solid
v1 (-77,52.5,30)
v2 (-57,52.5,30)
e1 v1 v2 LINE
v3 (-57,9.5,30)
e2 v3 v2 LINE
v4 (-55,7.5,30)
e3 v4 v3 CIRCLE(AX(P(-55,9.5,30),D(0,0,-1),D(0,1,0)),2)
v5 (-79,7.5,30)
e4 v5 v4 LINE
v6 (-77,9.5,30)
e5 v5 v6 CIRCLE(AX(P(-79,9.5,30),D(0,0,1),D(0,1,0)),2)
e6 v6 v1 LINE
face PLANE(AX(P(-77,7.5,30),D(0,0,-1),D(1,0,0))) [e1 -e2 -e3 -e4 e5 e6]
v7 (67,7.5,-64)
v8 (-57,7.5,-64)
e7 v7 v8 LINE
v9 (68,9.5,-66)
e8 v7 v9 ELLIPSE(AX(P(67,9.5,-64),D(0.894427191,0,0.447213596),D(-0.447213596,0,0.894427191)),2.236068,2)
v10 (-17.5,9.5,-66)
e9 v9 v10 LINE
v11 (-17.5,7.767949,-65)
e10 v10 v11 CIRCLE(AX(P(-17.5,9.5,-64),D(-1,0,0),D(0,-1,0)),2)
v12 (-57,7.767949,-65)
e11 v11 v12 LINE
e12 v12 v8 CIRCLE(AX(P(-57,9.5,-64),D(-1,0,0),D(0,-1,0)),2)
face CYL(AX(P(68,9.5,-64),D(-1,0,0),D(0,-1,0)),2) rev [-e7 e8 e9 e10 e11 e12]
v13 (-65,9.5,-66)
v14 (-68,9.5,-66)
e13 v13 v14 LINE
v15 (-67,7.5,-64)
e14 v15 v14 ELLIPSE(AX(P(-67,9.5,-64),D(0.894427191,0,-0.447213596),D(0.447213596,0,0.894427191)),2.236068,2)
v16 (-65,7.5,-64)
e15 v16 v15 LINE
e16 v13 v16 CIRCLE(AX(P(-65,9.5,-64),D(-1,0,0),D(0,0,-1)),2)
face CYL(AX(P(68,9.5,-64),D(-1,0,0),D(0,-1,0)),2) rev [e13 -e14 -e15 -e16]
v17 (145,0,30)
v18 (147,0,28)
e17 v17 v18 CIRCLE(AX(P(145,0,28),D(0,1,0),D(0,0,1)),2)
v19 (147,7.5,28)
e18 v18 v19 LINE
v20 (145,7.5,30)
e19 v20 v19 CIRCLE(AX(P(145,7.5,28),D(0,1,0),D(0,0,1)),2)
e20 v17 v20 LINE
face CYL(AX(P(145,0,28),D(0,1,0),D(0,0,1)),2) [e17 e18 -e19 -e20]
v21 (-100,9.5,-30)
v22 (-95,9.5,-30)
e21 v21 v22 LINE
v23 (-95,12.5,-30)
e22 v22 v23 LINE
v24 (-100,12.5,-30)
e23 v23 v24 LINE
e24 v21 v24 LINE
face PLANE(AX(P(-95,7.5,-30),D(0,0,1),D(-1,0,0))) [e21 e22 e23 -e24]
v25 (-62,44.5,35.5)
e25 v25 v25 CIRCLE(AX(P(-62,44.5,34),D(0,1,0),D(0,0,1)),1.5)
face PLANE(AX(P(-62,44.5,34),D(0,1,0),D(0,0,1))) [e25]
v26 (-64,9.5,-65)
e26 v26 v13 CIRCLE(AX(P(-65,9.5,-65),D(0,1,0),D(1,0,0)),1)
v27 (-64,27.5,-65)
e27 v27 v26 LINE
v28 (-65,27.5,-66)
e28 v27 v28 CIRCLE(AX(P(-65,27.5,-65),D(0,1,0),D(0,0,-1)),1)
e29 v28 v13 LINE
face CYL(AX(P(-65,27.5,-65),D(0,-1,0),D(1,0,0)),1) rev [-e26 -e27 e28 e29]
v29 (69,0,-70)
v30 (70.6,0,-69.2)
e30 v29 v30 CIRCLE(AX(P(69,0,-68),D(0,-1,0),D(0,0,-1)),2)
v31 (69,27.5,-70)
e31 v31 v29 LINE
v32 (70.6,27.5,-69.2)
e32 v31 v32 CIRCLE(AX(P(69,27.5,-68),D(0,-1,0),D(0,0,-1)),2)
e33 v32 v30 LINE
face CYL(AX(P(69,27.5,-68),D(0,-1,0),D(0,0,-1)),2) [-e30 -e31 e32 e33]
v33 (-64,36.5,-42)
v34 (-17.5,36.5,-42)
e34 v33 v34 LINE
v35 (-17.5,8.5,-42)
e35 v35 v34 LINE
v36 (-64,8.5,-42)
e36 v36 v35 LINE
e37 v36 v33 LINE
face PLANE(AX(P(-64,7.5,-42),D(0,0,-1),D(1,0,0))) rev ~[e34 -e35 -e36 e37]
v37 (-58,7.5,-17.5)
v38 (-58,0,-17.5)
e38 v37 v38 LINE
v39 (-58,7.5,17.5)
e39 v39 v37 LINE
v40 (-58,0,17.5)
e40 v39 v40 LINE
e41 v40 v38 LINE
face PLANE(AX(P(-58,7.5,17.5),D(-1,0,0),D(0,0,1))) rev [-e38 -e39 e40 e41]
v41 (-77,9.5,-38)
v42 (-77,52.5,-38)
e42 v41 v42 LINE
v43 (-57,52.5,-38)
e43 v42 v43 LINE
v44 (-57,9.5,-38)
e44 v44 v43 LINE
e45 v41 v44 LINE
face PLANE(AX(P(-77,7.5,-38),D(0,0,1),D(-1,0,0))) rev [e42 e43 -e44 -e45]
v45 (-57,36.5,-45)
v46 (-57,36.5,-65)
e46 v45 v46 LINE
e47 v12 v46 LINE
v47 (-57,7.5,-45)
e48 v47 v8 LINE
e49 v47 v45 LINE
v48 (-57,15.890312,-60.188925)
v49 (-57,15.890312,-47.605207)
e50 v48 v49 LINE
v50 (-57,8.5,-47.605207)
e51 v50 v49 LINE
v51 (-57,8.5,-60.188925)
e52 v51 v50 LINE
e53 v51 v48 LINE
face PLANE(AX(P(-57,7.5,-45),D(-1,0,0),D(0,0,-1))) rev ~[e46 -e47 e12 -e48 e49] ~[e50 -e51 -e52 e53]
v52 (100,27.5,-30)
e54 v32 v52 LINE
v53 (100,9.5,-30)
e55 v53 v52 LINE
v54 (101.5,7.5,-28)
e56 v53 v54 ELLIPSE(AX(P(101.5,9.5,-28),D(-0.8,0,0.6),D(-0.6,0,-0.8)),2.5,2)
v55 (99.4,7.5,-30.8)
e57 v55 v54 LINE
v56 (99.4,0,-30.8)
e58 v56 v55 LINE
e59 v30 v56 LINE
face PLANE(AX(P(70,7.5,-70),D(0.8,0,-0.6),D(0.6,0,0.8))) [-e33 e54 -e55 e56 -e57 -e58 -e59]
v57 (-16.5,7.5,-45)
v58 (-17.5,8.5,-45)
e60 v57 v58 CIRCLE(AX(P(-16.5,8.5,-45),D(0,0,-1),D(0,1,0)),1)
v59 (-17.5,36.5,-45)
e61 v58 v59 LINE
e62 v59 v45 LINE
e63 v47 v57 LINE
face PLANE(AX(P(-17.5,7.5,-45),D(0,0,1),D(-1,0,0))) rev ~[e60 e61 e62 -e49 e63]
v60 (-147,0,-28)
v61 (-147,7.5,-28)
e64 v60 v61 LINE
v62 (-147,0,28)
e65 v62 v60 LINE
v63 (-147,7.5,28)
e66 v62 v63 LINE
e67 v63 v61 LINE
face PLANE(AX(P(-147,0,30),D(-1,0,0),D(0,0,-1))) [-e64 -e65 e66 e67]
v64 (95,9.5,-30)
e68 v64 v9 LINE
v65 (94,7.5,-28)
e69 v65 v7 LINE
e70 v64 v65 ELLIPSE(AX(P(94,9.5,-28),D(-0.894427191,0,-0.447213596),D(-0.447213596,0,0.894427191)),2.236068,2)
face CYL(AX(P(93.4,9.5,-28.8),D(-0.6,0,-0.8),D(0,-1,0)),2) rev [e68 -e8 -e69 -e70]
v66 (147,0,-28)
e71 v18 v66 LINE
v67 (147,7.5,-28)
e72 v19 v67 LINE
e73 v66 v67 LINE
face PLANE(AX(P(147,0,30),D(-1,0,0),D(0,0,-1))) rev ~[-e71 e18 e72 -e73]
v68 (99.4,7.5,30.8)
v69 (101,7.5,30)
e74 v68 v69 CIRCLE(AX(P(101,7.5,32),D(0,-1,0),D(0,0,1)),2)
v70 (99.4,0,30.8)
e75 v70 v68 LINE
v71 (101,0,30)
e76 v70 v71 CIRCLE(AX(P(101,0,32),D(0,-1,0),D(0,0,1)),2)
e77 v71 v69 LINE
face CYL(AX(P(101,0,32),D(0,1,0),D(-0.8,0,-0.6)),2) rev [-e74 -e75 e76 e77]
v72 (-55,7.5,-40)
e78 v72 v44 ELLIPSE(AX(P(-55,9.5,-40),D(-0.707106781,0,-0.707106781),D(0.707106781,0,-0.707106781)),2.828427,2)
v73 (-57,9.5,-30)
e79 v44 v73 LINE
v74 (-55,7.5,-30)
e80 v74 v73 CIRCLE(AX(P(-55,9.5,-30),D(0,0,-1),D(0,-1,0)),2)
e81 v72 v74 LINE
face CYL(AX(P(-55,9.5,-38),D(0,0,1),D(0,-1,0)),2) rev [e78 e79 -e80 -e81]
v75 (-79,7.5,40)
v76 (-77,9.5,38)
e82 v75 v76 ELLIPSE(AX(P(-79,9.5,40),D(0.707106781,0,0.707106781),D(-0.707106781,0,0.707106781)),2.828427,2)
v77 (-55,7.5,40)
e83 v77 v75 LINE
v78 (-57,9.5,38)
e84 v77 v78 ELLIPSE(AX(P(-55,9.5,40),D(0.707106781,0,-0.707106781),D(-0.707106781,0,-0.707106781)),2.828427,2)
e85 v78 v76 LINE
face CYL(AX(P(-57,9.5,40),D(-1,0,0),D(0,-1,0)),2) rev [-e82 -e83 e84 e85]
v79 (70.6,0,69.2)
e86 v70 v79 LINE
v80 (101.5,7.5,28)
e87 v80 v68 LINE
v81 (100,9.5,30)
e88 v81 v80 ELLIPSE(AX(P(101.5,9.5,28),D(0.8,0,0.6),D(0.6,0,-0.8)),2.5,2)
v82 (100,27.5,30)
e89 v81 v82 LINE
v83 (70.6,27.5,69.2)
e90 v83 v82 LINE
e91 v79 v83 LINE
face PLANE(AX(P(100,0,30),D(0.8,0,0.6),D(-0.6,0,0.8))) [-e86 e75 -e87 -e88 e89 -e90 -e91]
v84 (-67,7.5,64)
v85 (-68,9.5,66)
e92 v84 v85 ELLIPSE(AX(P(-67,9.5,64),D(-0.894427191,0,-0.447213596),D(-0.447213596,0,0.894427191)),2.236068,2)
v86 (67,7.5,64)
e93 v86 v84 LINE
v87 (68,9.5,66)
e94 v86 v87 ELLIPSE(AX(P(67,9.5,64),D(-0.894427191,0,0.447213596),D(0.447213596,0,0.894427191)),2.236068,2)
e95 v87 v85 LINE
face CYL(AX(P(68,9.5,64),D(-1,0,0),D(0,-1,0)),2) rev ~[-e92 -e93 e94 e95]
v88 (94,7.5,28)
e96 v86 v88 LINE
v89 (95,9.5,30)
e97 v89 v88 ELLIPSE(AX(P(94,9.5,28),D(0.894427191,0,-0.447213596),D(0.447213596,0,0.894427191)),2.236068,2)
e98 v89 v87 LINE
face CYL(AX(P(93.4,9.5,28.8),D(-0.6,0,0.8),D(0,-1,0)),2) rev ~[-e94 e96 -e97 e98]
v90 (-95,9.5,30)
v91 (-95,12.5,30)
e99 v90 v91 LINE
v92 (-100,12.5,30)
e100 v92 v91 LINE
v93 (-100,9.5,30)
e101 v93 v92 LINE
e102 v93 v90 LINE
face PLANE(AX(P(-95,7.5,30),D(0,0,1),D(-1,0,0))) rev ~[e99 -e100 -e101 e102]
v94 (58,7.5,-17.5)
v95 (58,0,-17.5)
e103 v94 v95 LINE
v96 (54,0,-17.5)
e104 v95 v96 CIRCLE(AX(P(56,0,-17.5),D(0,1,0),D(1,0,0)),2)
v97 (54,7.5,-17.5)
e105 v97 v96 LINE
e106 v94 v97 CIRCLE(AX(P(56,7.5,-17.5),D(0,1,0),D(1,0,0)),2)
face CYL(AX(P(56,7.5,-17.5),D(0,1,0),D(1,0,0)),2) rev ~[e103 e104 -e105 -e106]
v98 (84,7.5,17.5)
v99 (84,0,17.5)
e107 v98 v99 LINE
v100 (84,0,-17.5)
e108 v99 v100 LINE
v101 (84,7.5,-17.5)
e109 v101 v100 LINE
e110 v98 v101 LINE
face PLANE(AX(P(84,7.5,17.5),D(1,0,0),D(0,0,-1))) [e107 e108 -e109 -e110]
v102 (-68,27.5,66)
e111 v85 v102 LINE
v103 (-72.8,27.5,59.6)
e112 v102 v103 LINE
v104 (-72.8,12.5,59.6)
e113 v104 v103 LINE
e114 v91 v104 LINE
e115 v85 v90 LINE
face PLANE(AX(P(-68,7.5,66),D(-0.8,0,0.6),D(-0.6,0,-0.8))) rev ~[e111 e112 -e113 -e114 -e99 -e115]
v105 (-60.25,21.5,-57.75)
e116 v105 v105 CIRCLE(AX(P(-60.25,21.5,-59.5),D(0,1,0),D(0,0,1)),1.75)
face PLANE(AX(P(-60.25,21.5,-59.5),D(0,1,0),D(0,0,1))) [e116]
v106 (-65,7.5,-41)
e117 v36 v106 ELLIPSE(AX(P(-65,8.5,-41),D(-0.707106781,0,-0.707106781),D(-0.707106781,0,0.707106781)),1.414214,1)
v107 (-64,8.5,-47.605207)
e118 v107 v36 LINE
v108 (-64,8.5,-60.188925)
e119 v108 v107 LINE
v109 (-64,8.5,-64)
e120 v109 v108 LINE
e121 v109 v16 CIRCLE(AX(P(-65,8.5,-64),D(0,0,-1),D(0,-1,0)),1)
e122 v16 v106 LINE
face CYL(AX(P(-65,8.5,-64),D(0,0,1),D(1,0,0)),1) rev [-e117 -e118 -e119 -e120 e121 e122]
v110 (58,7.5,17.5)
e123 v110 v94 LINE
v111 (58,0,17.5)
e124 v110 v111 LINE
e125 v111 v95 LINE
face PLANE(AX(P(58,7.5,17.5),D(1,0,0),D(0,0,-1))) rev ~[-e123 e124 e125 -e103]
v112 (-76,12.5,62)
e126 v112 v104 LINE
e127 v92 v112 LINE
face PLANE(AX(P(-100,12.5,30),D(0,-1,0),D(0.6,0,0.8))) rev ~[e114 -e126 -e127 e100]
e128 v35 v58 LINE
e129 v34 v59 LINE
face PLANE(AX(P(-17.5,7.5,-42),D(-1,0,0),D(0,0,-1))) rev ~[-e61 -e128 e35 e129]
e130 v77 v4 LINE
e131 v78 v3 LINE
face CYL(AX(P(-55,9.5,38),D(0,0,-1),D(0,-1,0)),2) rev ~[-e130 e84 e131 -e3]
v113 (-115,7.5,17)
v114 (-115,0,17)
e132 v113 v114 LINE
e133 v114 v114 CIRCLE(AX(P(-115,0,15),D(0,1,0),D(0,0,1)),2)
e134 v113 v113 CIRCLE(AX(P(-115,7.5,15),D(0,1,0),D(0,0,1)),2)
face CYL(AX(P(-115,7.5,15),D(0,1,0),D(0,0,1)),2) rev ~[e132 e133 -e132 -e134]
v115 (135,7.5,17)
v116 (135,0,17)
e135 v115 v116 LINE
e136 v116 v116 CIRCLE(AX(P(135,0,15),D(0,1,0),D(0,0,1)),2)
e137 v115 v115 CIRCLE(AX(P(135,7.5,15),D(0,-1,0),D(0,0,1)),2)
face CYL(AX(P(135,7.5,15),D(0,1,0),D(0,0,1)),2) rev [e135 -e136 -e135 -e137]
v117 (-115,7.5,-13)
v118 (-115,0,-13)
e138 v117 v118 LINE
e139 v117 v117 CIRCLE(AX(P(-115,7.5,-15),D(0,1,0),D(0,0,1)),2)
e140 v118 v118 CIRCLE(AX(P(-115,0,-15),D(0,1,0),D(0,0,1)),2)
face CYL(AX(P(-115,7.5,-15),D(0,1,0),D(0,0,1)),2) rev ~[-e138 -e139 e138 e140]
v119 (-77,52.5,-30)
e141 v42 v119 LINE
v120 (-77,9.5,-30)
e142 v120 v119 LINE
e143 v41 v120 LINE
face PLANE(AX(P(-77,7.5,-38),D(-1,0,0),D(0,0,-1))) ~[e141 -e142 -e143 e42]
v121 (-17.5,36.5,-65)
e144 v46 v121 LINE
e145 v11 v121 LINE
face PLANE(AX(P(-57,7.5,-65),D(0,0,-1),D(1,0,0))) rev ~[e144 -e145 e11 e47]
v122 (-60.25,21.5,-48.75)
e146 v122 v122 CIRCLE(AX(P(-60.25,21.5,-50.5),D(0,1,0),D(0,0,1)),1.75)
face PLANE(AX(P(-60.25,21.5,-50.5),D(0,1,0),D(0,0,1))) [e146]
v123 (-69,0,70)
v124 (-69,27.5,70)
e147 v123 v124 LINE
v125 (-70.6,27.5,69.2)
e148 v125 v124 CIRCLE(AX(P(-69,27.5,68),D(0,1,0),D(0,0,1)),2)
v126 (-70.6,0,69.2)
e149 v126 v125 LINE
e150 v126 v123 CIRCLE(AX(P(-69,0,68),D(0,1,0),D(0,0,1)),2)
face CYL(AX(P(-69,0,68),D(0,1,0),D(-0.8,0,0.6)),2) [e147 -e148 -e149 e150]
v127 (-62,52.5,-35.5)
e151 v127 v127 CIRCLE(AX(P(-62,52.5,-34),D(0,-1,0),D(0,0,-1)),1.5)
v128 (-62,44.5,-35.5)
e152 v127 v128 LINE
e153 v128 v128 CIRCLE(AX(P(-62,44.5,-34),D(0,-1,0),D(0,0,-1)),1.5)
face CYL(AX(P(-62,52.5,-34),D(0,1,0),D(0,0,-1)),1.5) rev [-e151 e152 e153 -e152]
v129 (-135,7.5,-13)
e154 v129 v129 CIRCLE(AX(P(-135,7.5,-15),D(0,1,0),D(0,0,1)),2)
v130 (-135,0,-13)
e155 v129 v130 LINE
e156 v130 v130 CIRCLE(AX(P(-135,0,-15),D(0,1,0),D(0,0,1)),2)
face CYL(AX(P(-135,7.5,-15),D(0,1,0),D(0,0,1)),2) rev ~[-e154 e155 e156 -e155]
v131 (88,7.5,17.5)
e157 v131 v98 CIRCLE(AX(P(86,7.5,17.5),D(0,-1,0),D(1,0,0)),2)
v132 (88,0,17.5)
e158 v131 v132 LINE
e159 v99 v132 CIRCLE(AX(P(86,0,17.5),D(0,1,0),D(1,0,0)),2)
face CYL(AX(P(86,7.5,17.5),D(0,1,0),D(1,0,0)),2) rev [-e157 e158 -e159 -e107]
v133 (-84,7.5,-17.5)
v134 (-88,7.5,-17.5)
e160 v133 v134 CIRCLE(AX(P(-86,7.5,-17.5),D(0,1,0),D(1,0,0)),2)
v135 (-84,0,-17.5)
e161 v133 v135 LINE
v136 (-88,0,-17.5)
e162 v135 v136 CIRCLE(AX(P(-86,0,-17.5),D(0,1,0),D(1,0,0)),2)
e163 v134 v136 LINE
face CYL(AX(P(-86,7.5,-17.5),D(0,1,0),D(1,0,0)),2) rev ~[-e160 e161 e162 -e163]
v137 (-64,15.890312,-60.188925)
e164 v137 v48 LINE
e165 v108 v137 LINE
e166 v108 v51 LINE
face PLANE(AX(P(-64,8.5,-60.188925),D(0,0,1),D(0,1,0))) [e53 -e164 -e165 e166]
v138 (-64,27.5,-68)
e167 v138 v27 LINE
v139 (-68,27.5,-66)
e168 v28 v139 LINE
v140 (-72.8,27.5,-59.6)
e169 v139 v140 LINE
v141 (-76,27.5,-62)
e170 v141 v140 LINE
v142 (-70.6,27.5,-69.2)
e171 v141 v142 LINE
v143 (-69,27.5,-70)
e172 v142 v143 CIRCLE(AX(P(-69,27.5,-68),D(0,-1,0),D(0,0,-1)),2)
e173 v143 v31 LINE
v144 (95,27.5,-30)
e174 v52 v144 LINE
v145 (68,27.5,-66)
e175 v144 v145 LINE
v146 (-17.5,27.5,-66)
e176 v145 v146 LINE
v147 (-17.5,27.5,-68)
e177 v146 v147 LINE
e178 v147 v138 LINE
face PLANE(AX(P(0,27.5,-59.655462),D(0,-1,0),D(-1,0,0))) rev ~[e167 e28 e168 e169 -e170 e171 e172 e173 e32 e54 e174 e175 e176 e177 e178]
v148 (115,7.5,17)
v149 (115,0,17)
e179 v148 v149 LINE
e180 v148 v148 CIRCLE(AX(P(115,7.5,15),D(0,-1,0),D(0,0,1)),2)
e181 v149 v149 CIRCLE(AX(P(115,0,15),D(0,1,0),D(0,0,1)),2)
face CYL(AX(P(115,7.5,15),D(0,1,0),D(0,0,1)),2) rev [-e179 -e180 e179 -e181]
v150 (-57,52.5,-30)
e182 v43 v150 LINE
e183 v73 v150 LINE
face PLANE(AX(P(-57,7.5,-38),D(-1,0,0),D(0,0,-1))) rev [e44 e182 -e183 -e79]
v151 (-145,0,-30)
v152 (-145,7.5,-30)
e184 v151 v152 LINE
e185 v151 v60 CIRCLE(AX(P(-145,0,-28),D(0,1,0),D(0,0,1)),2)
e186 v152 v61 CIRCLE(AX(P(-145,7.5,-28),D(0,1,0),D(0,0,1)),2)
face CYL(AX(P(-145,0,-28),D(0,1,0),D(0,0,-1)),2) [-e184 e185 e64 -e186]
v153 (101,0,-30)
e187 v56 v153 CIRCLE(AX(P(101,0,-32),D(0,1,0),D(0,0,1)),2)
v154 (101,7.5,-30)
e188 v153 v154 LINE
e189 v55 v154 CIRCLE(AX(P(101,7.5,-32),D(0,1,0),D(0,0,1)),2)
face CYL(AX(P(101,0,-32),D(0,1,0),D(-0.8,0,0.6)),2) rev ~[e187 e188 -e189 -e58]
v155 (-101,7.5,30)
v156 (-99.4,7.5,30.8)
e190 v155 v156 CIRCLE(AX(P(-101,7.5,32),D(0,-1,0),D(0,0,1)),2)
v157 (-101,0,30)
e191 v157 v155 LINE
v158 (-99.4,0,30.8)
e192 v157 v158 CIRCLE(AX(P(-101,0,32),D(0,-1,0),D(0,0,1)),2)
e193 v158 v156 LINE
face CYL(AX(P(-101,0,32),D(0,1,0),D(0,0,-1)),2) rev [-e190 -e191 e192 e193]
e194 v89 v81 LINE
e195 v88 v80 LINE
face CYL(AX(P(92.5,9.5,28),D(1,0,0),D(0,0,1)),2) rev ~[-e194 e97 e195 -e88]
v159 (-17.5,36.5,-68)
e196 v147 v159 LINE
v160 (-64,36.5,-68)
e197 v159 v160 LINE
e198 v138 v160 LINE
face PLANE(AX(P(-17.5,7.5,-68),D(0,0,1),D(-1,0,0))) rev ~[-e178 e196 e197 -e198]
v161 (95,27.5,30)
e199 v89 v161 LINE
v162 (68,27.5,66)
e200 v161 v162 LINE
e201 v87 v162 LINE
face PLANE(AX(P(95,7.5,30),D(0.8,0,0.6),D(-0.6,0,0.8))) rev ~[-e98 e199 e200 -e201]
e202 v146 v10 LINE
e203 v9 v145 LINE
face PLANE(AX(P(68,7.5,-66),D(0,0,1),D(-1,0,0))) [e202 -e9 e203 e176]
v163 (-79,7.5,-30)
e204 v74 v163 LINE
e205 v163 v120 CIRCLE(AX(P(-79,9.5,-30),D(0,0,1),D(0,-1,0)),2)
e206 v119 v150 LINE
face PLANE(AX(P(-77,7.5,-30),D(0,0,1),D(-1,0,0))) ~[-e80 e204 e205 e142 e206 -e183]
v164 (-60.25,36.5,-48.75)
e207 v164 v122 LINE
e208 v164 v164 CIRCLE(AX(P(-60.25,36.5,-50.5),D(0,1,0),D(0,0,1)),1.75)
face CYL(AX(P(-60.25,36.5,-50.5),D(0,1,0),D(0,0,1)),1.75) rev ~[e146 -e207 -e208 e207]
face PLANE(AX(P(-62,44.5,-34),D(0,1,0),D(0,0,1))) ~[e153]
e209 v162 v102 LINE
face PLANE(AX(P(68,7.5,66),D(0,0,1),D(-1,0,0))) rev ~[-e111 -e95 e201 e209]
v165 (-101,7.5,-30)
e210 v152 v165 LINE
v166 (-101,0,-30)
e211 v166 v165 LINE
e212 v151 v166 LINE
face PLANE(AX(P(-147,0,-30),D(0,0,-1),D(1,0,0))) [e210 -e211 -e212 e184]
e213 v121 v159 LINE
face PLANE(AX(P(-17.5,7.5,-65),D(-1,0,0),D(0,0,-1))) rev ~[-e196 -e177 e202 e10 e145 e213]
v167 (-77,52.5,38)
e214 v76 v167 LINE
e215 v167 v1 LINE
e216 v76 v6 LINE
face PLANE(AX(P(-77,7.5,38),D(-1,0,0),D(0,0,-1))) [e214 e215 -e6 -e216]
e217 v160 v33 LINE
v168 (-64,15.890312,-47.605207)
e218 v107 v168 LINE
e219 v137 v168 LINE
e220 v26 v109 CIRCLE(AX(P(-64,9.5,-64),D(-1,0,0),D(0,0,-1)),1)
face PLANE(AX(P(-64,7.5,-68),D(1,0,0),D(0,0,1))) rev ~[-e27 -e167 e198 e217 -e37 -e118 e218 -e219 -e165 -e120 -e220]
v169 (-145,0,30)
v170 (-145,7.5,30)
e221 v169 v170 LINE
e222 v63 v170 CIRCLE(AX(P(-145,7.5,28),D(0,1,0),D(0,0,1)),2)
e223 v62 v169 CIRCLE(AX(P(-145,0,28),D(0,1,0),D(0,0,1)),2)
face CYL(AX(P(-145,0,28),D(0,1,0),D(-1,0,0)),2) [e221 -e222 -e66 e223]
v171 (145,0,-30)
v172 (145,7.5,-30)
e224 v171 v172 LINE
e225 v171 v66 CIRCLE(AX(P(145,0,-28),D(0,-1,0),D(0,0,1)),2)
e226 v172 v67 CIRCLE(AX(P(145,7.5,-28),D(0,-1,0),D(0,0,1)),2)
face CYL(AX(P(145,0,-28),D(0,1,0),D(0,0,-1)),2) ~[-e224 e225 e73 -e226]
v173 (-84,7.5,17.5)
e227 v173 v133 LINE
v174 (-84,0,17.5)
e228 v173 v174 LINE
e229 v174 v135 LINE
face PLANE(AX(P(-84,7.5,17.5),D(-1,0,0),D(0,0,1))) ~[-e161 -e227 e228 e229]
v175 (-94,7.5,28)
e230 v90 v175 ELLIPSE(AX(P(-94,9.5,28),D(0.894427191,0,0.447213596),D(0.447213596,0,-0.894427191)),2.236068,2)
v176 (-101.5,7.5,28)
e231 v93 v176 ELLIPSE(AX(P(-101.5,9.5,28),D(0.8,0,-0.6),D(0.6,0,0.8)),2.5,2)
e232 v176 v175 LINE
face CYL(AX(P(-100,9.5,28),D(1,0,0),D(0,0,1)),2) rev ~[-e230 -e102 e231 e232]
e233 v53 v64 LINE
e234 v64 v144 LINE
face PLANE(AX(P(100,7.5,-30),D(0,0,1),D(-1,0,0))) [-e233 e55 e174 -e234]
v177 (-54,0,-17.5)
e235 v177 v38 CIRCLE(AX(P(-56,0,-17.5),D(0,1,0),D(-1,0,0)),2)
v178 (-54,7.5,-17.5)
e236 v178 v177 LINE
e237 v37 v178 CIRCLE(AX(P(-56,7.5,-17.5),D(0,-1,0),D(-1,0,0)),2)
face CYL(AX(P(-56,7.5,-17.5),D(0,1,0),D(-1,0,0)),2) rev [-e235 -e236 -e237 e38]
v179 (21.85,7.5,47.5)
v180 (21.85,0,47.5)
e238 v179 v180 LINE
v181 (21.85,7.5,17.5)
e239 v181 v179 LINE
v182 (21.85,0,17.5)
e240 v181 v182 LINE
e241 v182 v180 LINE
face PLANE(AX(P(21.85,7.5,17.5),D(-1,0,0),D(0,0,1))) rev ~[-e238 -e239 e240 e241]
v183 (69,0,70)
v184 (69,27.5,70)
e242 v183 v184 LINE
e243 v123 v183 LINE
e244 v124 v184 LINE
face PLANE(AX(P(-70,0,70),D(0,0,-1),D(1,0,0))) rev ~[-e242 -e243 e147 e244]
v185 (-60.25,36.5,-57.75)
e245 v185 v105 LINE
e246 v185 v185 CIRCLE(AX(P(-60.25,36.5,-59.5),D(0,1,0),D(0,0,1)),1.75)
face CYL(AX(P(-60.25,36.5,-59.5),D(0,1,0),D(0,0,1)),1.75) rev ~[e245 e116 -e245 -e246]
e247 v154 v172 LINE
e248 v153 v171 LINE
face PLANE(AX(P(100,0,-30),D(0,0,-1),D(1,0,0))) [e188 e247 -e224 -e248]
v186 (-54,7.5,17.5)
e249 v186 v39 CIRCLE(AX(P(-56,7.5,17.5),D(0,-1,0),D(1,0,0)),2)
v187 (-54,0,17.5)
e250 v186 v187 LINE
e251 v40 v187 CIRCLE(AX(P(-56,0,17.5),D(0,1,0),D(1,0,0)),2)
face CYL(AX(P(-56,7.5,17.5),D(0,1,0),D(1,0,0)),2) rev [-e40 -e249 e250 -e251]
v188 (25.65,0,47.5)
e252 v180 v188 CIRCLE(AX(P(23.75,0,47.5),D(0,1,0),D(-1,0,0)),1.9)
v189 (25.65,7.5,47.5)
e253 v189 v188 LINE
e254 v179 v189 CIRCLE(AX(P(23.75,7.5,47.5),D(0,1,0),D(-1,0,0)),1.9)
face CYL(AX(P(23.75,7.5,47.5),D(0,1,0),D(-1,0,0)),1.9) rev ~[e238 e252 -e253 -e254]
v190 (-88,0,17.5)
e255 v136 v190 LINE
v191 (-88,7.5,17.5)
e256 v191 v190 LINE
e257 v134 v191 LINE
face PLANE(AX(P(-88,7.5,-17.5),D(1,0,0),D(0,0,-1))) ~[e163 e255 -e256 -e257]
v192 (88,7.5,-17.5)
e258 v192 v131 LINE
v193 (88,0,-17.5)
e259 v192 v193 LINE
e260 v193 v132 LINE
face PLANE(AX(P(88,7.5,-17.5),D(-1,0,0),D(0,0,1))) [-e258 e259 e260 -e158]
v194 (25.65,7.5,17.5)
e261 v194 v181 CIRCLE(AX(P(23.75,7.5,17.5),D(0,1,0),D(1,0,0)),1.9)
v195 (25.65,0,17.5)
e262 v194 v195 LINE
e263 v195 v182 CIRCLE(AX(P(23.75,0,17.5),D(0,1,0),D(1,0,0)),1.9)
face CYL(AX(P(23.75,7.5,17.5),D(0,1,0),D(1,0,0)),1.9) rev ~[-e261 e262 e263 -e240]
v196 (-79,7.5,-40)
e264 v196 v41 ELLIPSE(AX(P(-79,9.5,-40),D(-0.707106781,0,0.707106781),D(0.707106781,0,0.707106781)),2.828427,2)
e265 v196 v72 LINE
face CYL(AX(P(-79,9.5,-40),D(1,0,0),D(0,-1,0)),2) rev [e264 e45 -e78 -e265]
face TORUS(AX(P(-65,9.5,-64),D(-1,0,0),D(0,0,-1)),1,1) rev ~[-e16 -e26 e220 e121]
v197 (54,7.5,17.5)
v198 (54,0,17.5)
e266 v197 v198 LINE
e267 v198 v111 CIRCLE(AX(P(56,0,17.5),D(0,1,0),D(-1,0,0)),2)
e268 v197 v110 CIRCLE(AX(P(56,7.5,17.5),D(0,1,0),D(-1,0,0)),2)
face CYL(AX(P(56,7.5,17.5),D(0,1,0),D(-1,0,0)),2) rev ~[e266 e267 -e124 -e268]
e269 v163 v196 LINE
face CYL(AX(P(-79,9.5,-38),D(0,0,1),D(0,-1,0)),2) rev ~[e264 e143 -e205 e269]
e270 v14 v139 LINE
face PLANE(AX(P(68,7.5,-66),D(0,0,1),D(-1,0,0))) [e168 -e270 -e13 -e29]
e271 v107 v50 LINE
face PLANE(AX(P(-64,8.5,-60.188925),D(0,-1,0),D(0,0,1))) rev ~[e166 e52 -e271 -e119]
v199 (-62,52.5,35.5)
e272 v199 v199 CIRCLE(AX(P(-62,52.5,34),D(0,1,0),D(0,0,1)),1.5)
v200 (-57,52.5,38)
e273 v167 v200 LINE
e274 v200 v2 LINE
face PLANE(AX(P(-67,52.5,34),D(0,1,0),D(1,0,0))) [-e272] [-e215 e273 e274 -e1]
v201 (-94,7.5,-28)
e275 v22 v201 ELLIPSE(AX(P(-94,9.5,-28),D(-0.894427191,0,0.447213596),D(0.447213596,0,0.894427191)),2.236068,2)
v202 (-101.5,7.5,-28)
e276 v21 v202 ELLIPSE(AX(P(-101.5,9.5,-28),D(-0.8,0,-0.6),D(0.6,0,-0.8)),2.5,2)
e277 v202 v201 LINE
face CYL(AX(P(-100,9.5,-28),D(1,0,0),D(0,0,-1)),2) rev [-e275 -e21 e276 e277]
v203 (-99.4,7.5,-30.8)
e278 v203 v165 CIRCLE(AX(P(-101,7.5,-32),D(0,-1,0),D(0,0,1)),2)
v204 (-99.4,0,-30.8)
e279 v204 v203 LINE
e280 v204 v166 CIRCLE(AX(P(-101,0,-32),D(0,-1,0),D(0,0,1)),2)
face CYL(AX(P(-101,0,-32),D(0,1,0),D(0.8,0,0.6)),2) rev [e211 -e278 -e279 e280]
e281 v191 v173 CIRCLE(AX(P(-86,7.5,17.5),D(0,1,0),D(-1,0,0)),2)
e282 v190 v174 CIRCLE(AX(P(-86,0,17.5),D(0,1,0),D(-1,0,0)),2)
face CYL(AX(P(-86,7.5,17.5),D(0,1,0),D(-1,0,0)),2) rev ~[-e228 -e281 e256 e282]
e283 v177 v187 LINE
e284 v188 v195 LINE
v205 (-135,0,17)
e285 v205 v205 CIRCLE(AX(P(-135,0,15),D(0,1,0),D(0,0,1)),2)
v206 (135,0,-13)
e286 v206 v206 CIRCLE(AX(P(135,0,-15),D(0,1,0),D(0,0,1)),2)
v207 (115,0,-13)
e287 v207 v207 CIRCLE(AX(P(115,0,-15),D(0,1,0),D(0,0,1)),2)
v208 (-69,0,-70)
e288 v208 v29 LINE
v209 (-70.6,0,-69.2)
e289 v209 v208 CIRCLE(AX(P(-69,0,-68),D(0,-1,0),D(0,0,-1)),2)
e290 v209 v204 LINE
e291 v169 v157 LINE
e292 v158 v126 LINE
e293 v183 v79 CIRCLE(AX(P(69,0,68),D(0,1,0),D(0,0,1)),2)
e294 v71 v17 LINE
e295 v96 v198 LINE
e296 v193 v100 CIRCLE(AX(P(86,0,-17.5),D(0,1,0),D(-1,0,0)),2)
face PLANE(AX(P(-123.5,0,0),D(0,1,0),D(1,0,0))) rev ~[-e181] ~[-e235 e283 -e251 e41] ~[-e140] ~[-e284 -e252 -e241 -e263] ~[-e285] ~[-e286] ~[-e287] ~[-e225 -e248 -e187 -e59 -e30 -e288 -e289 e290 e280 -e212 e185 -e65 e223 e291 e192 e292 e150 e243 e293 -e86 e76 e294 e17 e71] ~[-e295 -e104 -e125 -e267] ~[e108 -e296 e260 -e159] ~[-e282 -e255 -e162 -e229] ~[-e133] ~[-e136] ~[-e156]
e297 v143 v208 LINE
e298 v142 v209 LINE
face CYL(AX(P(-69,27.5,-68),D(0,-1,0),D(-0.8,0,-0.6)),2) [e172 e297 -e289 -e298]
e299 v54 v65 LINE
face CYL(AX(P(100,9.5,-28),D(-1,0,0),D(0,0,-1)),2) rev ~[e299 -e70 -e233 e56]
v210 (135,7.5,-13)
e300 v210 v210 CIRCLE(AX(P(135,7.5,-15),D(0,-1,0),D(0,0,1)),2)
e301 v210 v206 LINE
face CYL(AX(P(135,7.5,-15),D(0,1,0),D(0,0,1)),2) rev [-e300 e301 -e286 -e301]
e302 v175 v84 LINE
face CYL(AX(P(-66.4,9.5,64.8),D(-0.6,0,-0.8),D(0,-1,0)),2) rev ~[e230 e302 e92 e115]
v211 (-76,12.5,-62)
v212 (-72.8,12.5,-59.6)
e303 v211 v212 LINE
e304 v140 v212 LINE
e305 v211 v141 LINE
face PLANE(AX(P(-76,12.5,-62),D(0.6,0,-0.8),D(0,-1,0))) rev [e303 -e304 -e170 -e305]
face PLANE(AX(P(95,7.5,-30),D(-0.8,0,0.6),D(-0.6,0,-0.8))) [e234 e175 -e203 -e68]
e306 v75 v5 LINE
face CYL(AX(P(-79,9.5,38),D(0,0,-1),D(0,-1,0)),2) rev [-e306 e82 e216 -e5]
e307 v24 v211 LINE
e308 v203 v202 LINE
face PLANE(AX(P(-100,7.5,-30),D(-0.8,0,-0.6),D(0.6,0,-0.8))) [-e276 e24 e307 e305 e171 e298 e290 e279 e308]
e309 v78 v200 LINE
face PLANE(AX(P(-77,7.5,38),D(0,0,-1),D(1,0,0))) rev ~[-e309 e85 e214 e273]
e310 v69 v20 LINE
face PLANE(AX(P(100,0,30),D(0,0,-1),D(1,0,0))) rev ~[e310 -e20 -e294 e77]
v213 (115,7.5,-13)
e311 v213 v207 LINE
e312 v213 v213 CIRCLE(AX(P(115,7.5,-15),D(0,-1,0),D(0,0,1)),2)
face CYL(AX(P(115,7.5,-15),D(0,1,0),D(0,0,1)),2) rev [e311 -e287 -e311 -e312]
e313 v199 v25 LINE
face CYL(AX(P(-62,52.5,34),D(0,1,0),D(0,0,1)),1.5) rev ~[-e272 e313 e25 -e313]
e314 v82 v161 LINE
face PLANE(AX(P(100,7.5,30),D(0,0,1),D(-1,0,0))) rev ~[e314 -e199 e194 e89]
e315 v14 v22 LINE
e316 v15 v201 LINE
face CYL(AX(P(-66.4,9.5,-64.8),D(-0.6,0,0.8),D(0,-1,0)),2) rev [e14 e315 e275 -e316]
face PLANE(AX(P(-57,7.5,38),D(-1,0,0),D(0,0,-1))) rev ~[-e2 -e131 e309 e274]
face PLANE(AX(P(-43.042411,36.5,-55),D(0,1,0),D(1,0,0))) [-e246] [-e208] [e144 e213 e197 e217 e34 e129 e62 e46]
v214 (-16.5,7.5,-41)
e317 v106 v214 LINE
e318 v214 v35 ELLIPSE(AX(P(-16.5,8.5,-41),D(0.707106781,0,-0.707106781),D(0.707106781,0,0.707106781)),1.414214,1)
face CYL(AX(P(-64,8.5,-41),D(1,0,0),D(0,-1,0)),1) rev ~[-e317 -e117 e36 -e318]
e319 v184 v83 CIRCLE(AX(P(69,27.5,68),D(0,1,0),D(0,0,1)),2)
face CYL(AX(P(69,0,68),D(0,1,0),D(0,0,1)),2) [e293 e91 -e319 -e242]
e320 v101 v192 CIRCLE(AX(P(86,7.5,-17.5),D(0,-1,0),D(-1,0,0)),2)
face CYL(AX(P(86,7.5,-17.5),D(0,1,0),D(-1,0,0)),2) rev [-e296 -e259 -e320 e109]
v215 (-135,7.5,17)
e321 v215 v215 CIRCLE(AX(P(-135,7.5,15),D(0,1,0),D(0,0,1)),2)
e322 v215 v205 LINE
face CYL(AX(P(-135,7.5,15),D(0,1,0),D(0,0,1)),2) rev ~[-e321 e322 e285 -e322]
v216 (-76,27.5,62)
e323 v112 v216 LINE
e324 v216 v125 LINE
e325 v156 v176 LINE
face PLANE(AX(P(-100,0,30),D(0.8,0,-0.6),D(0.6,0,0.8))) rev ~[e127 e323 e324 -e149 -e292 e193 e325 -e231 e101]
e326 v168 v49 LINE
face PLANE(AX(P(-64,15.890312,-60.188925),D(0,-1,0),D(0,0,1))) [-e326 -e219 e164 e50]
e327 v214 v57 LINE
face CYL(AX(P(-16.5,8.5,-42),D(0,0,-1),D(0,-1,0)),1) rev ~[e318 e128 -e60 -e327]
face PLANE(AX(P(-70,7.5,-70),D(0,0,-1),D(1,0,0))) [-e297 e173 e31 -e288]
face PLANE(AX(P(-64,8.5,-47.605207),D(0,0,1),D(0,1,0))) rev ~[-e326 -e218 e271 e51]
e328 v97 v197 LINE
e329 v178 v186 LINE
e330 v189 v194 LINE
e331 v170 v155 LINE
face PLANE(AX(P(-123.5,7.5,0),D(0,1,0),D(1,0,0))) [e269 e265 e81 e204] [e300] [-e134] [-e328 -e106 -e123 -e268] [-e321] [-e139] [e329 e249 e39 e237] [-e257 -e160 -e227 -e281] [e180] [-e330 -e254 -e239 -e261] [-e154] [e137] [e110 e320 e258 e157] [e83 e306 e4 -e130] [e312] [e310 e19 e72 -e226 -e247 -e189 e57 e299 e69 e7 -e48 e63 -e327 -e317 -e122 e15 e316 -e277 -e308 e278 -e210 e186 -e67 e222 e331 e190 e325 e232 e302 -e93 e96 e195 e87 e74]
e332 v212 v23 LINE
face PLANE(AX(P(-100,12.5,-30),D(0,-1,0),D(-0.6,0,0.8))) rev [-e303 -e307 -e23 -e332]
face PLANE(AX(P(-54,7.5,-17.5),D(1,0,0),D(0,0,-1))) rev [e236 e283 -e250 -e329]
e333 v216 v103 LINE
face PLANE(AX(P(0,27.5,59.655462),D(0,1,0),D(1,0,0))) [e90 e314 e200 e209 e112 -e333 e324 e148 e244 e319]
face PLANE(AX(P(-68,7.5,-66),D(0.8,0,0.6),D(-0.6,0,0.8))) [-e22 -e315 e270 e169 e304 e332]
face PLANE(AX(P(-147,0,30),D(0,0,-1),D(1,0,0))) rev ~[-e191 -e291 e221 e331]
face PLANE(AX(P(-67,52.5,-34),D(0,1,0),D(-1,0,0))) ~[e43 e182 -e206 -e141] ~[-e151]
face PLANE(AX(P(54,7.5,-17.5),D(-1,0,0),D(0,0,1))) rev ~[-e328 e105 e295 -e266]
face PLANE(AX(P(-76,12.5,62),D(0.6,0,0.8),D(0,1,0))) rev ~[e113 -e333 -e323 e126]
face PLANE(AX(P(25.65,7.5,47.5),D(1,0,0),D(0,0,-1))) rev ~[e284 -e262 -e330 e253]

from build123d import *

# Parameters (mm, degrees)
SKETCH1_W            = 47
SKETCH1_H            = 60
SKETCH1_W_2          = 140
SKETCH1_H_2          = 140
BOSS_EXTRUDE1_DEPTH  = 7.5
SKETCH2_R            = 2
CUT_EXTRUDE1_DEPTH   = 10
BOSS_EXTRUDE2_DEPTH  = 20
CUT_EXTRUDE3_DEPTH   = 10
FILLET5_R            = 2
FILLET6_R            = 2
FILLET7_R            = 2
SKETCH12_W           = 15.204619521
SKETCH12_H           = 41.964749879
BOSS_EXTRUDE3_DEPTH  = 7.5
SKETCH13_W           = 40
SKETCH13_H           = 15
CUT_EXTRUDE4_DEPTH   = 10
SKETCH15_W           = 20
SKETCH15_H           = 8
BOSS_EXTRUDE4_DEPTH  = 45
SKETCH16_R           = 1.5
CUT_EXTRUDE5_DEPTH   = 8
FILLET9_R            = 2
FILLET9_OF_MIRROR5_R = 2
BOSS_EXTRUDE5_DEPTH  = 29
FILLET10_R           = 1
SKETCH18_R           = 1.75
CUT_EXTRUDE6_DEPTH   = 15
SKETCH19_W           = 12.583718204
SKETCH19_H           = 7.390312174
CUT_EXTRUDE7_DEPTH   = 10
FILLET11_R           = 2


with BuildPart() as part:
    # Sketch1 → Boss-Extrude1 (new body)
    with BuildSketch(Plane(origin=(0, 0, 0), x_dir=(1, 0, 0), z_dir=(0, 1, 0))):
        with Locations((-123.5, 0)):
            Rectangle(SKETCH1_W, SKETCH1_H)
        Polygon((-100, 30), (-100, -30), (-70, -70), (-70, 70), align=None)
        Rectangle(SKETCH1_W_2, SKETCH1_H_2)
        Polygon((100, 30), (100, -30), (70, -70), (70, 70), align=None)
        with Locations((123.5, 0)):
            Rectangle(SKETCH1_W, SKETCH1_H)
    extrude(amount=BOSS_EXTRUDE1_DEPTH)

    # Sketch2 → Cut-Extrude1 (cut)
    with BuildSketch(Plane(origin=(0, 7.5, 0), x_dir=(1, 0, 0), z_dir=(0, 1, 0))):
        with Locations(Location((-135, 15, 0), (0, 0, 270))):
            Circle(SKETCH2_R)
        with Locations(Location((-115, 15, 0), (0, 0, 270))):
            Circle(SKETCH2_R)
        with Locations(Location((-135, -15, 0), (0, 0, 270))):
            Circle(SKETCH2_R)
        with Locations(Location((-115, -15, 0), (0, 0, 270))):
            Circle(SKETCH2_R)
    cut_extrude1 = extrude(amount=-CUT_EXTRUDE1_DEPTH, mode=Mode.SUBTRACT)

    # Sketch8 → Boss-Extrude2 (add)
    with BuildSketch(Plane(origin=(0, 7.5, 0), x_dir=(1, 0, 0), z_dir=(0, 1, 0))):
        Polygon((-100, 30), (-70, 70), (70, 70), (100, 30), (95, 30), (68, 66), (-68, 66), (-95, 30), align=None)
        Polygon((-100, -30), (-70, -70), (70, -70), (100, -30), (95, -30), (68, -66), (-68, -66), (-95, -30), align=None)
    extrude(amount=BOSS_EXTRUDE2_DEPTH)

    # Mirror1: Cut-Extrude1 across plane
    add(cut_extrude1.mirror(Plane(origin=(0, 0, 0), x_dir=(0, 0, 1), z_dir=(1, 0, 0))), mode=Mode.SUBTRACT)

    # Sketch11 → Cut-Extrude3 (cut)
    with BuildSketch(Plane(origin=(0, 7.5, 0), x_dir=(1, 0, 0), z_dir=(0, 1, 0))):
        with BuildLine():
            Line((58, -17.5), (58, 17.5))
            ThreePointArc((58, 17.5), (56, 19.5), (54, 17.5))
            Line((54, 17.5), (54, -17.5))
            ThreePointArc((54, -17.5), (56, -19.5), (58, -17.5))
        make_face()
        with BuildLine():
            Line((84, -17.5), (84, 17.5))
            ThreePointArc((84, 17.5), (86, 19.5), (88, 17.5))
            Line((88, 17.5), (88, -17.5))
            ThreePointArc((88, -17.5), (86, -19.5), (84, -17.5))
        make_face()
        with BuildLine():
            Line((21.85, -17.5), (21.85, -47.5))
            ThreePointArc((21.85, -47.5), (23.75, -49.4), (25.65, -47.5))
            Line((25.65, -47.5), (25.65, -17.5))
            ThreePointArc((25.65, -17.5), (23.75, -15.6), (21.85, -17.5))
        make_face()
    cut_extrude3 = extrude(amount=-CUT_EXTRUDE3_DEPTH, mode=Mode.SUBTRACT)

    # Fillet5
    fillet5_edges = [part.edges().sort_by_distance(p)[0] for p in [
        (-147, 3.75, 30),
        (-147, 3.75, -30),
        (-100, 3.75, -30),
        (-70, 13.75, -70),
        (70, 13.75, -70),
        (100, 3.75, -30),
        (147, 3.75, -30),
        (147, 3.75, 30),
        (100, 3.75, 30),
        (70, 13.75, 70),
        (-70, 13.75, 70),
        (-100, 3.75, 30),
    ]]
    fillet(fillet5_edges, radius=FILLET5_R)

    # Fillet6
    fillet6_edges = [part.edges().sort_by_distance(p)[0] for p in [
        (-81.5, 7.5, -48),
        (0, 7.5, -66),
        (81.5, 7.5, -48),
        (81.5, 7.5, 48),
        (0, 7.5, 66),
        (-81.5, 7.5, 48),
    ]]
    fillet(fillet6_edges, radius=FILLET6_R)

    # Fillet7
    fillet7_edges = [part.edges().sort_by_distance(p)[0] for p in [
        (96.25, 7.5, 30),
        (-96.25, 7.5, 30),
        (-96.25, 7.5, -30),
        (96.25, 7.5, -30),
    ]]
    fillet(fillet7_edges, radius=FILLET7_R)

    # Mirror2: Cut-Extrude3 across plane
    add(cut_extrude3.mirror(Plane(origin=(0, 0, 0), x_dir=(0, 0, 1), z_dir=(1, 0, 0))), mode=Mode.SUBTRACT)

    # Sketch12 → Boss-Extrude3 (add)
    with BuildSketch(Plane(origin=(0, 7.5, 0), x_dir=(1, 0, 0), z_dir=(0, 1, 0))):
        with Locations((-23.111021673, -33.450162947)):
            Rectangle(SKETCH12_W, SKETCH12_H)
    extrude(amount=-BOSS_EXTRUDE3_DEPTH)

    # Sketch13 → Cut-Extrude4 (cut)
    with BuildSketch(Plane(origin=(-78.4, 0, 58.8), x_dir=(0.6, 0, 0.8), z_dir=(-0.8, 0, 0.6))):
        with Locations((-16, 20)):
            Rectangle(SKETCH13_W, SKETCH13_H)
    cut_extrude4 = extrude(amount=-CUT_EXTRUDE4_DEPTH, mode=Mode.SUBTRACT)

    # Mirror3: Cut-Extrude4 across plane
    add(cut_extrude4.mirror(Plane.XY), mode=Mode.SUBTRACT)

    # Sketch15 → Boss-Extrude4 (add)
    with BuildSketch(Plane(origin=(0, 7.5, 0), x_dir=(1, 0, 0), z_dir=(0, 1, 0))):
        with Locations((-67, -34)):
            Rectangle(SKETCH15_W, SKETCH15_H)
    boss_extrude4 = extrude(amount=BOSS_EXTRUDE4_DEPTH)

    # Sketch16 → Cut-Extrude5 (cut)
    with BuildSketch(Plane(origin=(0, 52.5, 0), x_dir=(1, 0, 0), z_dir=(0, 1, 0))):
        with Locations(Location((-62, -34, 0), (0, 0, 270))):
            Circle(SKETCH16_R)
    cut_extrude5 = extrude(amount=-CUT_EXTRUDE5_DEPTH, mode=Mode.SUBTRACT)

    # Fillet9
    fillet9_edges = [part.edges().sort_by_distance(p)[0] for p in [
        (-77, 7.5, 34),
    ]]
    fillet(fillet9_edges, radius=FILLET9_R)

    # Mirror5: Boss-Extrude4, Cut-Extrude5 across plane
    add(boss_extrude4.mirror(Plane.XY))
    add(cut_extrude5.mirror(Plane.XY), mode=Mode.SUBTRACT)

    # Fillet9 of Mirror5
    fillet9_of_mirror5_edges = [part.edges().sort_by_distance(p)[0] for p in [
        (-77, 7.5, -34),
    ]]
    fillet(fillet9_of_mirror5_edges, radius=FILLET9_OF_MIRROR5_R)

    # Sketch17 → Boss-Extrude5 (add)
    with BuildSketch(Plane(origin=(0, 7.5, 0), x_dir=(1, 0, 0), z_dir=(0, 1, 0))):
        Polygon((-64, 68), (-64, 42), (-17.5, 42), (-17.5, 45), (-57, 45), (-57, 65), (-17.5, 65), (-17.5, 68), align=None)
    extrude(amount=BOSS_EXTRUDE5_DEPTH)

    # Fillet10
    fillet10_edges = [part.edges().sort_by_distance(p)[0] for p in [
        (-64, 8.085786438, -65.414213562),
        (-64, 18.5, -66),
        (-64, 7.5, -53),
        (-40.75, 7.5, -42),
        (-17.5, 7.5, -43.5),
    ]]
    fillet(fillet10_edges, radius=FILLET10_R)

    # Sketch18 → Cut-Extrude6 (cut)
    with BuildSketch(Plane(origin=(0, 36.5, 0), x_dir=(1, 0, 0), z_dir=(0, 1, 0))):
        with Locations(Location((-60.25, 50.5, 0), (0, 0, 270))):
            Circle(SKETCH18_R)
        with Locations(Location((-60.25, 59.5, 0), (0, 0, 270))):
            Circle(SKETCH18_R)
    extrude(amount=-CUT_EXTRUDE6_DEPTH, mode=Mode.SUBTRACT)

    # Sketch19 → Cut-Extrude7 (cut)
    with BuildSketch(Plane.ZY.offset(64)):
        with Locations((-53.897066291, 12.195156087)):
            Rectangle(SKETCH19_W, SKETCH19_H)
    extrude(amount=-CUT_EXTRUDE7_DEPTH, mode=Mode.SUBTRACT)

    # Fillet11
    fillet11_edges = [part.edges().sort_by_distance(p)[0] for p in [
        (-68, 7.5, -38),
        (-57, 7.5, -34),
        (-57, 7.5, 34),
        (-68, 7.5, 38),
    ]]
    fillet(fillet11_edges, radius=FILLET11_R)


solid = part.part
